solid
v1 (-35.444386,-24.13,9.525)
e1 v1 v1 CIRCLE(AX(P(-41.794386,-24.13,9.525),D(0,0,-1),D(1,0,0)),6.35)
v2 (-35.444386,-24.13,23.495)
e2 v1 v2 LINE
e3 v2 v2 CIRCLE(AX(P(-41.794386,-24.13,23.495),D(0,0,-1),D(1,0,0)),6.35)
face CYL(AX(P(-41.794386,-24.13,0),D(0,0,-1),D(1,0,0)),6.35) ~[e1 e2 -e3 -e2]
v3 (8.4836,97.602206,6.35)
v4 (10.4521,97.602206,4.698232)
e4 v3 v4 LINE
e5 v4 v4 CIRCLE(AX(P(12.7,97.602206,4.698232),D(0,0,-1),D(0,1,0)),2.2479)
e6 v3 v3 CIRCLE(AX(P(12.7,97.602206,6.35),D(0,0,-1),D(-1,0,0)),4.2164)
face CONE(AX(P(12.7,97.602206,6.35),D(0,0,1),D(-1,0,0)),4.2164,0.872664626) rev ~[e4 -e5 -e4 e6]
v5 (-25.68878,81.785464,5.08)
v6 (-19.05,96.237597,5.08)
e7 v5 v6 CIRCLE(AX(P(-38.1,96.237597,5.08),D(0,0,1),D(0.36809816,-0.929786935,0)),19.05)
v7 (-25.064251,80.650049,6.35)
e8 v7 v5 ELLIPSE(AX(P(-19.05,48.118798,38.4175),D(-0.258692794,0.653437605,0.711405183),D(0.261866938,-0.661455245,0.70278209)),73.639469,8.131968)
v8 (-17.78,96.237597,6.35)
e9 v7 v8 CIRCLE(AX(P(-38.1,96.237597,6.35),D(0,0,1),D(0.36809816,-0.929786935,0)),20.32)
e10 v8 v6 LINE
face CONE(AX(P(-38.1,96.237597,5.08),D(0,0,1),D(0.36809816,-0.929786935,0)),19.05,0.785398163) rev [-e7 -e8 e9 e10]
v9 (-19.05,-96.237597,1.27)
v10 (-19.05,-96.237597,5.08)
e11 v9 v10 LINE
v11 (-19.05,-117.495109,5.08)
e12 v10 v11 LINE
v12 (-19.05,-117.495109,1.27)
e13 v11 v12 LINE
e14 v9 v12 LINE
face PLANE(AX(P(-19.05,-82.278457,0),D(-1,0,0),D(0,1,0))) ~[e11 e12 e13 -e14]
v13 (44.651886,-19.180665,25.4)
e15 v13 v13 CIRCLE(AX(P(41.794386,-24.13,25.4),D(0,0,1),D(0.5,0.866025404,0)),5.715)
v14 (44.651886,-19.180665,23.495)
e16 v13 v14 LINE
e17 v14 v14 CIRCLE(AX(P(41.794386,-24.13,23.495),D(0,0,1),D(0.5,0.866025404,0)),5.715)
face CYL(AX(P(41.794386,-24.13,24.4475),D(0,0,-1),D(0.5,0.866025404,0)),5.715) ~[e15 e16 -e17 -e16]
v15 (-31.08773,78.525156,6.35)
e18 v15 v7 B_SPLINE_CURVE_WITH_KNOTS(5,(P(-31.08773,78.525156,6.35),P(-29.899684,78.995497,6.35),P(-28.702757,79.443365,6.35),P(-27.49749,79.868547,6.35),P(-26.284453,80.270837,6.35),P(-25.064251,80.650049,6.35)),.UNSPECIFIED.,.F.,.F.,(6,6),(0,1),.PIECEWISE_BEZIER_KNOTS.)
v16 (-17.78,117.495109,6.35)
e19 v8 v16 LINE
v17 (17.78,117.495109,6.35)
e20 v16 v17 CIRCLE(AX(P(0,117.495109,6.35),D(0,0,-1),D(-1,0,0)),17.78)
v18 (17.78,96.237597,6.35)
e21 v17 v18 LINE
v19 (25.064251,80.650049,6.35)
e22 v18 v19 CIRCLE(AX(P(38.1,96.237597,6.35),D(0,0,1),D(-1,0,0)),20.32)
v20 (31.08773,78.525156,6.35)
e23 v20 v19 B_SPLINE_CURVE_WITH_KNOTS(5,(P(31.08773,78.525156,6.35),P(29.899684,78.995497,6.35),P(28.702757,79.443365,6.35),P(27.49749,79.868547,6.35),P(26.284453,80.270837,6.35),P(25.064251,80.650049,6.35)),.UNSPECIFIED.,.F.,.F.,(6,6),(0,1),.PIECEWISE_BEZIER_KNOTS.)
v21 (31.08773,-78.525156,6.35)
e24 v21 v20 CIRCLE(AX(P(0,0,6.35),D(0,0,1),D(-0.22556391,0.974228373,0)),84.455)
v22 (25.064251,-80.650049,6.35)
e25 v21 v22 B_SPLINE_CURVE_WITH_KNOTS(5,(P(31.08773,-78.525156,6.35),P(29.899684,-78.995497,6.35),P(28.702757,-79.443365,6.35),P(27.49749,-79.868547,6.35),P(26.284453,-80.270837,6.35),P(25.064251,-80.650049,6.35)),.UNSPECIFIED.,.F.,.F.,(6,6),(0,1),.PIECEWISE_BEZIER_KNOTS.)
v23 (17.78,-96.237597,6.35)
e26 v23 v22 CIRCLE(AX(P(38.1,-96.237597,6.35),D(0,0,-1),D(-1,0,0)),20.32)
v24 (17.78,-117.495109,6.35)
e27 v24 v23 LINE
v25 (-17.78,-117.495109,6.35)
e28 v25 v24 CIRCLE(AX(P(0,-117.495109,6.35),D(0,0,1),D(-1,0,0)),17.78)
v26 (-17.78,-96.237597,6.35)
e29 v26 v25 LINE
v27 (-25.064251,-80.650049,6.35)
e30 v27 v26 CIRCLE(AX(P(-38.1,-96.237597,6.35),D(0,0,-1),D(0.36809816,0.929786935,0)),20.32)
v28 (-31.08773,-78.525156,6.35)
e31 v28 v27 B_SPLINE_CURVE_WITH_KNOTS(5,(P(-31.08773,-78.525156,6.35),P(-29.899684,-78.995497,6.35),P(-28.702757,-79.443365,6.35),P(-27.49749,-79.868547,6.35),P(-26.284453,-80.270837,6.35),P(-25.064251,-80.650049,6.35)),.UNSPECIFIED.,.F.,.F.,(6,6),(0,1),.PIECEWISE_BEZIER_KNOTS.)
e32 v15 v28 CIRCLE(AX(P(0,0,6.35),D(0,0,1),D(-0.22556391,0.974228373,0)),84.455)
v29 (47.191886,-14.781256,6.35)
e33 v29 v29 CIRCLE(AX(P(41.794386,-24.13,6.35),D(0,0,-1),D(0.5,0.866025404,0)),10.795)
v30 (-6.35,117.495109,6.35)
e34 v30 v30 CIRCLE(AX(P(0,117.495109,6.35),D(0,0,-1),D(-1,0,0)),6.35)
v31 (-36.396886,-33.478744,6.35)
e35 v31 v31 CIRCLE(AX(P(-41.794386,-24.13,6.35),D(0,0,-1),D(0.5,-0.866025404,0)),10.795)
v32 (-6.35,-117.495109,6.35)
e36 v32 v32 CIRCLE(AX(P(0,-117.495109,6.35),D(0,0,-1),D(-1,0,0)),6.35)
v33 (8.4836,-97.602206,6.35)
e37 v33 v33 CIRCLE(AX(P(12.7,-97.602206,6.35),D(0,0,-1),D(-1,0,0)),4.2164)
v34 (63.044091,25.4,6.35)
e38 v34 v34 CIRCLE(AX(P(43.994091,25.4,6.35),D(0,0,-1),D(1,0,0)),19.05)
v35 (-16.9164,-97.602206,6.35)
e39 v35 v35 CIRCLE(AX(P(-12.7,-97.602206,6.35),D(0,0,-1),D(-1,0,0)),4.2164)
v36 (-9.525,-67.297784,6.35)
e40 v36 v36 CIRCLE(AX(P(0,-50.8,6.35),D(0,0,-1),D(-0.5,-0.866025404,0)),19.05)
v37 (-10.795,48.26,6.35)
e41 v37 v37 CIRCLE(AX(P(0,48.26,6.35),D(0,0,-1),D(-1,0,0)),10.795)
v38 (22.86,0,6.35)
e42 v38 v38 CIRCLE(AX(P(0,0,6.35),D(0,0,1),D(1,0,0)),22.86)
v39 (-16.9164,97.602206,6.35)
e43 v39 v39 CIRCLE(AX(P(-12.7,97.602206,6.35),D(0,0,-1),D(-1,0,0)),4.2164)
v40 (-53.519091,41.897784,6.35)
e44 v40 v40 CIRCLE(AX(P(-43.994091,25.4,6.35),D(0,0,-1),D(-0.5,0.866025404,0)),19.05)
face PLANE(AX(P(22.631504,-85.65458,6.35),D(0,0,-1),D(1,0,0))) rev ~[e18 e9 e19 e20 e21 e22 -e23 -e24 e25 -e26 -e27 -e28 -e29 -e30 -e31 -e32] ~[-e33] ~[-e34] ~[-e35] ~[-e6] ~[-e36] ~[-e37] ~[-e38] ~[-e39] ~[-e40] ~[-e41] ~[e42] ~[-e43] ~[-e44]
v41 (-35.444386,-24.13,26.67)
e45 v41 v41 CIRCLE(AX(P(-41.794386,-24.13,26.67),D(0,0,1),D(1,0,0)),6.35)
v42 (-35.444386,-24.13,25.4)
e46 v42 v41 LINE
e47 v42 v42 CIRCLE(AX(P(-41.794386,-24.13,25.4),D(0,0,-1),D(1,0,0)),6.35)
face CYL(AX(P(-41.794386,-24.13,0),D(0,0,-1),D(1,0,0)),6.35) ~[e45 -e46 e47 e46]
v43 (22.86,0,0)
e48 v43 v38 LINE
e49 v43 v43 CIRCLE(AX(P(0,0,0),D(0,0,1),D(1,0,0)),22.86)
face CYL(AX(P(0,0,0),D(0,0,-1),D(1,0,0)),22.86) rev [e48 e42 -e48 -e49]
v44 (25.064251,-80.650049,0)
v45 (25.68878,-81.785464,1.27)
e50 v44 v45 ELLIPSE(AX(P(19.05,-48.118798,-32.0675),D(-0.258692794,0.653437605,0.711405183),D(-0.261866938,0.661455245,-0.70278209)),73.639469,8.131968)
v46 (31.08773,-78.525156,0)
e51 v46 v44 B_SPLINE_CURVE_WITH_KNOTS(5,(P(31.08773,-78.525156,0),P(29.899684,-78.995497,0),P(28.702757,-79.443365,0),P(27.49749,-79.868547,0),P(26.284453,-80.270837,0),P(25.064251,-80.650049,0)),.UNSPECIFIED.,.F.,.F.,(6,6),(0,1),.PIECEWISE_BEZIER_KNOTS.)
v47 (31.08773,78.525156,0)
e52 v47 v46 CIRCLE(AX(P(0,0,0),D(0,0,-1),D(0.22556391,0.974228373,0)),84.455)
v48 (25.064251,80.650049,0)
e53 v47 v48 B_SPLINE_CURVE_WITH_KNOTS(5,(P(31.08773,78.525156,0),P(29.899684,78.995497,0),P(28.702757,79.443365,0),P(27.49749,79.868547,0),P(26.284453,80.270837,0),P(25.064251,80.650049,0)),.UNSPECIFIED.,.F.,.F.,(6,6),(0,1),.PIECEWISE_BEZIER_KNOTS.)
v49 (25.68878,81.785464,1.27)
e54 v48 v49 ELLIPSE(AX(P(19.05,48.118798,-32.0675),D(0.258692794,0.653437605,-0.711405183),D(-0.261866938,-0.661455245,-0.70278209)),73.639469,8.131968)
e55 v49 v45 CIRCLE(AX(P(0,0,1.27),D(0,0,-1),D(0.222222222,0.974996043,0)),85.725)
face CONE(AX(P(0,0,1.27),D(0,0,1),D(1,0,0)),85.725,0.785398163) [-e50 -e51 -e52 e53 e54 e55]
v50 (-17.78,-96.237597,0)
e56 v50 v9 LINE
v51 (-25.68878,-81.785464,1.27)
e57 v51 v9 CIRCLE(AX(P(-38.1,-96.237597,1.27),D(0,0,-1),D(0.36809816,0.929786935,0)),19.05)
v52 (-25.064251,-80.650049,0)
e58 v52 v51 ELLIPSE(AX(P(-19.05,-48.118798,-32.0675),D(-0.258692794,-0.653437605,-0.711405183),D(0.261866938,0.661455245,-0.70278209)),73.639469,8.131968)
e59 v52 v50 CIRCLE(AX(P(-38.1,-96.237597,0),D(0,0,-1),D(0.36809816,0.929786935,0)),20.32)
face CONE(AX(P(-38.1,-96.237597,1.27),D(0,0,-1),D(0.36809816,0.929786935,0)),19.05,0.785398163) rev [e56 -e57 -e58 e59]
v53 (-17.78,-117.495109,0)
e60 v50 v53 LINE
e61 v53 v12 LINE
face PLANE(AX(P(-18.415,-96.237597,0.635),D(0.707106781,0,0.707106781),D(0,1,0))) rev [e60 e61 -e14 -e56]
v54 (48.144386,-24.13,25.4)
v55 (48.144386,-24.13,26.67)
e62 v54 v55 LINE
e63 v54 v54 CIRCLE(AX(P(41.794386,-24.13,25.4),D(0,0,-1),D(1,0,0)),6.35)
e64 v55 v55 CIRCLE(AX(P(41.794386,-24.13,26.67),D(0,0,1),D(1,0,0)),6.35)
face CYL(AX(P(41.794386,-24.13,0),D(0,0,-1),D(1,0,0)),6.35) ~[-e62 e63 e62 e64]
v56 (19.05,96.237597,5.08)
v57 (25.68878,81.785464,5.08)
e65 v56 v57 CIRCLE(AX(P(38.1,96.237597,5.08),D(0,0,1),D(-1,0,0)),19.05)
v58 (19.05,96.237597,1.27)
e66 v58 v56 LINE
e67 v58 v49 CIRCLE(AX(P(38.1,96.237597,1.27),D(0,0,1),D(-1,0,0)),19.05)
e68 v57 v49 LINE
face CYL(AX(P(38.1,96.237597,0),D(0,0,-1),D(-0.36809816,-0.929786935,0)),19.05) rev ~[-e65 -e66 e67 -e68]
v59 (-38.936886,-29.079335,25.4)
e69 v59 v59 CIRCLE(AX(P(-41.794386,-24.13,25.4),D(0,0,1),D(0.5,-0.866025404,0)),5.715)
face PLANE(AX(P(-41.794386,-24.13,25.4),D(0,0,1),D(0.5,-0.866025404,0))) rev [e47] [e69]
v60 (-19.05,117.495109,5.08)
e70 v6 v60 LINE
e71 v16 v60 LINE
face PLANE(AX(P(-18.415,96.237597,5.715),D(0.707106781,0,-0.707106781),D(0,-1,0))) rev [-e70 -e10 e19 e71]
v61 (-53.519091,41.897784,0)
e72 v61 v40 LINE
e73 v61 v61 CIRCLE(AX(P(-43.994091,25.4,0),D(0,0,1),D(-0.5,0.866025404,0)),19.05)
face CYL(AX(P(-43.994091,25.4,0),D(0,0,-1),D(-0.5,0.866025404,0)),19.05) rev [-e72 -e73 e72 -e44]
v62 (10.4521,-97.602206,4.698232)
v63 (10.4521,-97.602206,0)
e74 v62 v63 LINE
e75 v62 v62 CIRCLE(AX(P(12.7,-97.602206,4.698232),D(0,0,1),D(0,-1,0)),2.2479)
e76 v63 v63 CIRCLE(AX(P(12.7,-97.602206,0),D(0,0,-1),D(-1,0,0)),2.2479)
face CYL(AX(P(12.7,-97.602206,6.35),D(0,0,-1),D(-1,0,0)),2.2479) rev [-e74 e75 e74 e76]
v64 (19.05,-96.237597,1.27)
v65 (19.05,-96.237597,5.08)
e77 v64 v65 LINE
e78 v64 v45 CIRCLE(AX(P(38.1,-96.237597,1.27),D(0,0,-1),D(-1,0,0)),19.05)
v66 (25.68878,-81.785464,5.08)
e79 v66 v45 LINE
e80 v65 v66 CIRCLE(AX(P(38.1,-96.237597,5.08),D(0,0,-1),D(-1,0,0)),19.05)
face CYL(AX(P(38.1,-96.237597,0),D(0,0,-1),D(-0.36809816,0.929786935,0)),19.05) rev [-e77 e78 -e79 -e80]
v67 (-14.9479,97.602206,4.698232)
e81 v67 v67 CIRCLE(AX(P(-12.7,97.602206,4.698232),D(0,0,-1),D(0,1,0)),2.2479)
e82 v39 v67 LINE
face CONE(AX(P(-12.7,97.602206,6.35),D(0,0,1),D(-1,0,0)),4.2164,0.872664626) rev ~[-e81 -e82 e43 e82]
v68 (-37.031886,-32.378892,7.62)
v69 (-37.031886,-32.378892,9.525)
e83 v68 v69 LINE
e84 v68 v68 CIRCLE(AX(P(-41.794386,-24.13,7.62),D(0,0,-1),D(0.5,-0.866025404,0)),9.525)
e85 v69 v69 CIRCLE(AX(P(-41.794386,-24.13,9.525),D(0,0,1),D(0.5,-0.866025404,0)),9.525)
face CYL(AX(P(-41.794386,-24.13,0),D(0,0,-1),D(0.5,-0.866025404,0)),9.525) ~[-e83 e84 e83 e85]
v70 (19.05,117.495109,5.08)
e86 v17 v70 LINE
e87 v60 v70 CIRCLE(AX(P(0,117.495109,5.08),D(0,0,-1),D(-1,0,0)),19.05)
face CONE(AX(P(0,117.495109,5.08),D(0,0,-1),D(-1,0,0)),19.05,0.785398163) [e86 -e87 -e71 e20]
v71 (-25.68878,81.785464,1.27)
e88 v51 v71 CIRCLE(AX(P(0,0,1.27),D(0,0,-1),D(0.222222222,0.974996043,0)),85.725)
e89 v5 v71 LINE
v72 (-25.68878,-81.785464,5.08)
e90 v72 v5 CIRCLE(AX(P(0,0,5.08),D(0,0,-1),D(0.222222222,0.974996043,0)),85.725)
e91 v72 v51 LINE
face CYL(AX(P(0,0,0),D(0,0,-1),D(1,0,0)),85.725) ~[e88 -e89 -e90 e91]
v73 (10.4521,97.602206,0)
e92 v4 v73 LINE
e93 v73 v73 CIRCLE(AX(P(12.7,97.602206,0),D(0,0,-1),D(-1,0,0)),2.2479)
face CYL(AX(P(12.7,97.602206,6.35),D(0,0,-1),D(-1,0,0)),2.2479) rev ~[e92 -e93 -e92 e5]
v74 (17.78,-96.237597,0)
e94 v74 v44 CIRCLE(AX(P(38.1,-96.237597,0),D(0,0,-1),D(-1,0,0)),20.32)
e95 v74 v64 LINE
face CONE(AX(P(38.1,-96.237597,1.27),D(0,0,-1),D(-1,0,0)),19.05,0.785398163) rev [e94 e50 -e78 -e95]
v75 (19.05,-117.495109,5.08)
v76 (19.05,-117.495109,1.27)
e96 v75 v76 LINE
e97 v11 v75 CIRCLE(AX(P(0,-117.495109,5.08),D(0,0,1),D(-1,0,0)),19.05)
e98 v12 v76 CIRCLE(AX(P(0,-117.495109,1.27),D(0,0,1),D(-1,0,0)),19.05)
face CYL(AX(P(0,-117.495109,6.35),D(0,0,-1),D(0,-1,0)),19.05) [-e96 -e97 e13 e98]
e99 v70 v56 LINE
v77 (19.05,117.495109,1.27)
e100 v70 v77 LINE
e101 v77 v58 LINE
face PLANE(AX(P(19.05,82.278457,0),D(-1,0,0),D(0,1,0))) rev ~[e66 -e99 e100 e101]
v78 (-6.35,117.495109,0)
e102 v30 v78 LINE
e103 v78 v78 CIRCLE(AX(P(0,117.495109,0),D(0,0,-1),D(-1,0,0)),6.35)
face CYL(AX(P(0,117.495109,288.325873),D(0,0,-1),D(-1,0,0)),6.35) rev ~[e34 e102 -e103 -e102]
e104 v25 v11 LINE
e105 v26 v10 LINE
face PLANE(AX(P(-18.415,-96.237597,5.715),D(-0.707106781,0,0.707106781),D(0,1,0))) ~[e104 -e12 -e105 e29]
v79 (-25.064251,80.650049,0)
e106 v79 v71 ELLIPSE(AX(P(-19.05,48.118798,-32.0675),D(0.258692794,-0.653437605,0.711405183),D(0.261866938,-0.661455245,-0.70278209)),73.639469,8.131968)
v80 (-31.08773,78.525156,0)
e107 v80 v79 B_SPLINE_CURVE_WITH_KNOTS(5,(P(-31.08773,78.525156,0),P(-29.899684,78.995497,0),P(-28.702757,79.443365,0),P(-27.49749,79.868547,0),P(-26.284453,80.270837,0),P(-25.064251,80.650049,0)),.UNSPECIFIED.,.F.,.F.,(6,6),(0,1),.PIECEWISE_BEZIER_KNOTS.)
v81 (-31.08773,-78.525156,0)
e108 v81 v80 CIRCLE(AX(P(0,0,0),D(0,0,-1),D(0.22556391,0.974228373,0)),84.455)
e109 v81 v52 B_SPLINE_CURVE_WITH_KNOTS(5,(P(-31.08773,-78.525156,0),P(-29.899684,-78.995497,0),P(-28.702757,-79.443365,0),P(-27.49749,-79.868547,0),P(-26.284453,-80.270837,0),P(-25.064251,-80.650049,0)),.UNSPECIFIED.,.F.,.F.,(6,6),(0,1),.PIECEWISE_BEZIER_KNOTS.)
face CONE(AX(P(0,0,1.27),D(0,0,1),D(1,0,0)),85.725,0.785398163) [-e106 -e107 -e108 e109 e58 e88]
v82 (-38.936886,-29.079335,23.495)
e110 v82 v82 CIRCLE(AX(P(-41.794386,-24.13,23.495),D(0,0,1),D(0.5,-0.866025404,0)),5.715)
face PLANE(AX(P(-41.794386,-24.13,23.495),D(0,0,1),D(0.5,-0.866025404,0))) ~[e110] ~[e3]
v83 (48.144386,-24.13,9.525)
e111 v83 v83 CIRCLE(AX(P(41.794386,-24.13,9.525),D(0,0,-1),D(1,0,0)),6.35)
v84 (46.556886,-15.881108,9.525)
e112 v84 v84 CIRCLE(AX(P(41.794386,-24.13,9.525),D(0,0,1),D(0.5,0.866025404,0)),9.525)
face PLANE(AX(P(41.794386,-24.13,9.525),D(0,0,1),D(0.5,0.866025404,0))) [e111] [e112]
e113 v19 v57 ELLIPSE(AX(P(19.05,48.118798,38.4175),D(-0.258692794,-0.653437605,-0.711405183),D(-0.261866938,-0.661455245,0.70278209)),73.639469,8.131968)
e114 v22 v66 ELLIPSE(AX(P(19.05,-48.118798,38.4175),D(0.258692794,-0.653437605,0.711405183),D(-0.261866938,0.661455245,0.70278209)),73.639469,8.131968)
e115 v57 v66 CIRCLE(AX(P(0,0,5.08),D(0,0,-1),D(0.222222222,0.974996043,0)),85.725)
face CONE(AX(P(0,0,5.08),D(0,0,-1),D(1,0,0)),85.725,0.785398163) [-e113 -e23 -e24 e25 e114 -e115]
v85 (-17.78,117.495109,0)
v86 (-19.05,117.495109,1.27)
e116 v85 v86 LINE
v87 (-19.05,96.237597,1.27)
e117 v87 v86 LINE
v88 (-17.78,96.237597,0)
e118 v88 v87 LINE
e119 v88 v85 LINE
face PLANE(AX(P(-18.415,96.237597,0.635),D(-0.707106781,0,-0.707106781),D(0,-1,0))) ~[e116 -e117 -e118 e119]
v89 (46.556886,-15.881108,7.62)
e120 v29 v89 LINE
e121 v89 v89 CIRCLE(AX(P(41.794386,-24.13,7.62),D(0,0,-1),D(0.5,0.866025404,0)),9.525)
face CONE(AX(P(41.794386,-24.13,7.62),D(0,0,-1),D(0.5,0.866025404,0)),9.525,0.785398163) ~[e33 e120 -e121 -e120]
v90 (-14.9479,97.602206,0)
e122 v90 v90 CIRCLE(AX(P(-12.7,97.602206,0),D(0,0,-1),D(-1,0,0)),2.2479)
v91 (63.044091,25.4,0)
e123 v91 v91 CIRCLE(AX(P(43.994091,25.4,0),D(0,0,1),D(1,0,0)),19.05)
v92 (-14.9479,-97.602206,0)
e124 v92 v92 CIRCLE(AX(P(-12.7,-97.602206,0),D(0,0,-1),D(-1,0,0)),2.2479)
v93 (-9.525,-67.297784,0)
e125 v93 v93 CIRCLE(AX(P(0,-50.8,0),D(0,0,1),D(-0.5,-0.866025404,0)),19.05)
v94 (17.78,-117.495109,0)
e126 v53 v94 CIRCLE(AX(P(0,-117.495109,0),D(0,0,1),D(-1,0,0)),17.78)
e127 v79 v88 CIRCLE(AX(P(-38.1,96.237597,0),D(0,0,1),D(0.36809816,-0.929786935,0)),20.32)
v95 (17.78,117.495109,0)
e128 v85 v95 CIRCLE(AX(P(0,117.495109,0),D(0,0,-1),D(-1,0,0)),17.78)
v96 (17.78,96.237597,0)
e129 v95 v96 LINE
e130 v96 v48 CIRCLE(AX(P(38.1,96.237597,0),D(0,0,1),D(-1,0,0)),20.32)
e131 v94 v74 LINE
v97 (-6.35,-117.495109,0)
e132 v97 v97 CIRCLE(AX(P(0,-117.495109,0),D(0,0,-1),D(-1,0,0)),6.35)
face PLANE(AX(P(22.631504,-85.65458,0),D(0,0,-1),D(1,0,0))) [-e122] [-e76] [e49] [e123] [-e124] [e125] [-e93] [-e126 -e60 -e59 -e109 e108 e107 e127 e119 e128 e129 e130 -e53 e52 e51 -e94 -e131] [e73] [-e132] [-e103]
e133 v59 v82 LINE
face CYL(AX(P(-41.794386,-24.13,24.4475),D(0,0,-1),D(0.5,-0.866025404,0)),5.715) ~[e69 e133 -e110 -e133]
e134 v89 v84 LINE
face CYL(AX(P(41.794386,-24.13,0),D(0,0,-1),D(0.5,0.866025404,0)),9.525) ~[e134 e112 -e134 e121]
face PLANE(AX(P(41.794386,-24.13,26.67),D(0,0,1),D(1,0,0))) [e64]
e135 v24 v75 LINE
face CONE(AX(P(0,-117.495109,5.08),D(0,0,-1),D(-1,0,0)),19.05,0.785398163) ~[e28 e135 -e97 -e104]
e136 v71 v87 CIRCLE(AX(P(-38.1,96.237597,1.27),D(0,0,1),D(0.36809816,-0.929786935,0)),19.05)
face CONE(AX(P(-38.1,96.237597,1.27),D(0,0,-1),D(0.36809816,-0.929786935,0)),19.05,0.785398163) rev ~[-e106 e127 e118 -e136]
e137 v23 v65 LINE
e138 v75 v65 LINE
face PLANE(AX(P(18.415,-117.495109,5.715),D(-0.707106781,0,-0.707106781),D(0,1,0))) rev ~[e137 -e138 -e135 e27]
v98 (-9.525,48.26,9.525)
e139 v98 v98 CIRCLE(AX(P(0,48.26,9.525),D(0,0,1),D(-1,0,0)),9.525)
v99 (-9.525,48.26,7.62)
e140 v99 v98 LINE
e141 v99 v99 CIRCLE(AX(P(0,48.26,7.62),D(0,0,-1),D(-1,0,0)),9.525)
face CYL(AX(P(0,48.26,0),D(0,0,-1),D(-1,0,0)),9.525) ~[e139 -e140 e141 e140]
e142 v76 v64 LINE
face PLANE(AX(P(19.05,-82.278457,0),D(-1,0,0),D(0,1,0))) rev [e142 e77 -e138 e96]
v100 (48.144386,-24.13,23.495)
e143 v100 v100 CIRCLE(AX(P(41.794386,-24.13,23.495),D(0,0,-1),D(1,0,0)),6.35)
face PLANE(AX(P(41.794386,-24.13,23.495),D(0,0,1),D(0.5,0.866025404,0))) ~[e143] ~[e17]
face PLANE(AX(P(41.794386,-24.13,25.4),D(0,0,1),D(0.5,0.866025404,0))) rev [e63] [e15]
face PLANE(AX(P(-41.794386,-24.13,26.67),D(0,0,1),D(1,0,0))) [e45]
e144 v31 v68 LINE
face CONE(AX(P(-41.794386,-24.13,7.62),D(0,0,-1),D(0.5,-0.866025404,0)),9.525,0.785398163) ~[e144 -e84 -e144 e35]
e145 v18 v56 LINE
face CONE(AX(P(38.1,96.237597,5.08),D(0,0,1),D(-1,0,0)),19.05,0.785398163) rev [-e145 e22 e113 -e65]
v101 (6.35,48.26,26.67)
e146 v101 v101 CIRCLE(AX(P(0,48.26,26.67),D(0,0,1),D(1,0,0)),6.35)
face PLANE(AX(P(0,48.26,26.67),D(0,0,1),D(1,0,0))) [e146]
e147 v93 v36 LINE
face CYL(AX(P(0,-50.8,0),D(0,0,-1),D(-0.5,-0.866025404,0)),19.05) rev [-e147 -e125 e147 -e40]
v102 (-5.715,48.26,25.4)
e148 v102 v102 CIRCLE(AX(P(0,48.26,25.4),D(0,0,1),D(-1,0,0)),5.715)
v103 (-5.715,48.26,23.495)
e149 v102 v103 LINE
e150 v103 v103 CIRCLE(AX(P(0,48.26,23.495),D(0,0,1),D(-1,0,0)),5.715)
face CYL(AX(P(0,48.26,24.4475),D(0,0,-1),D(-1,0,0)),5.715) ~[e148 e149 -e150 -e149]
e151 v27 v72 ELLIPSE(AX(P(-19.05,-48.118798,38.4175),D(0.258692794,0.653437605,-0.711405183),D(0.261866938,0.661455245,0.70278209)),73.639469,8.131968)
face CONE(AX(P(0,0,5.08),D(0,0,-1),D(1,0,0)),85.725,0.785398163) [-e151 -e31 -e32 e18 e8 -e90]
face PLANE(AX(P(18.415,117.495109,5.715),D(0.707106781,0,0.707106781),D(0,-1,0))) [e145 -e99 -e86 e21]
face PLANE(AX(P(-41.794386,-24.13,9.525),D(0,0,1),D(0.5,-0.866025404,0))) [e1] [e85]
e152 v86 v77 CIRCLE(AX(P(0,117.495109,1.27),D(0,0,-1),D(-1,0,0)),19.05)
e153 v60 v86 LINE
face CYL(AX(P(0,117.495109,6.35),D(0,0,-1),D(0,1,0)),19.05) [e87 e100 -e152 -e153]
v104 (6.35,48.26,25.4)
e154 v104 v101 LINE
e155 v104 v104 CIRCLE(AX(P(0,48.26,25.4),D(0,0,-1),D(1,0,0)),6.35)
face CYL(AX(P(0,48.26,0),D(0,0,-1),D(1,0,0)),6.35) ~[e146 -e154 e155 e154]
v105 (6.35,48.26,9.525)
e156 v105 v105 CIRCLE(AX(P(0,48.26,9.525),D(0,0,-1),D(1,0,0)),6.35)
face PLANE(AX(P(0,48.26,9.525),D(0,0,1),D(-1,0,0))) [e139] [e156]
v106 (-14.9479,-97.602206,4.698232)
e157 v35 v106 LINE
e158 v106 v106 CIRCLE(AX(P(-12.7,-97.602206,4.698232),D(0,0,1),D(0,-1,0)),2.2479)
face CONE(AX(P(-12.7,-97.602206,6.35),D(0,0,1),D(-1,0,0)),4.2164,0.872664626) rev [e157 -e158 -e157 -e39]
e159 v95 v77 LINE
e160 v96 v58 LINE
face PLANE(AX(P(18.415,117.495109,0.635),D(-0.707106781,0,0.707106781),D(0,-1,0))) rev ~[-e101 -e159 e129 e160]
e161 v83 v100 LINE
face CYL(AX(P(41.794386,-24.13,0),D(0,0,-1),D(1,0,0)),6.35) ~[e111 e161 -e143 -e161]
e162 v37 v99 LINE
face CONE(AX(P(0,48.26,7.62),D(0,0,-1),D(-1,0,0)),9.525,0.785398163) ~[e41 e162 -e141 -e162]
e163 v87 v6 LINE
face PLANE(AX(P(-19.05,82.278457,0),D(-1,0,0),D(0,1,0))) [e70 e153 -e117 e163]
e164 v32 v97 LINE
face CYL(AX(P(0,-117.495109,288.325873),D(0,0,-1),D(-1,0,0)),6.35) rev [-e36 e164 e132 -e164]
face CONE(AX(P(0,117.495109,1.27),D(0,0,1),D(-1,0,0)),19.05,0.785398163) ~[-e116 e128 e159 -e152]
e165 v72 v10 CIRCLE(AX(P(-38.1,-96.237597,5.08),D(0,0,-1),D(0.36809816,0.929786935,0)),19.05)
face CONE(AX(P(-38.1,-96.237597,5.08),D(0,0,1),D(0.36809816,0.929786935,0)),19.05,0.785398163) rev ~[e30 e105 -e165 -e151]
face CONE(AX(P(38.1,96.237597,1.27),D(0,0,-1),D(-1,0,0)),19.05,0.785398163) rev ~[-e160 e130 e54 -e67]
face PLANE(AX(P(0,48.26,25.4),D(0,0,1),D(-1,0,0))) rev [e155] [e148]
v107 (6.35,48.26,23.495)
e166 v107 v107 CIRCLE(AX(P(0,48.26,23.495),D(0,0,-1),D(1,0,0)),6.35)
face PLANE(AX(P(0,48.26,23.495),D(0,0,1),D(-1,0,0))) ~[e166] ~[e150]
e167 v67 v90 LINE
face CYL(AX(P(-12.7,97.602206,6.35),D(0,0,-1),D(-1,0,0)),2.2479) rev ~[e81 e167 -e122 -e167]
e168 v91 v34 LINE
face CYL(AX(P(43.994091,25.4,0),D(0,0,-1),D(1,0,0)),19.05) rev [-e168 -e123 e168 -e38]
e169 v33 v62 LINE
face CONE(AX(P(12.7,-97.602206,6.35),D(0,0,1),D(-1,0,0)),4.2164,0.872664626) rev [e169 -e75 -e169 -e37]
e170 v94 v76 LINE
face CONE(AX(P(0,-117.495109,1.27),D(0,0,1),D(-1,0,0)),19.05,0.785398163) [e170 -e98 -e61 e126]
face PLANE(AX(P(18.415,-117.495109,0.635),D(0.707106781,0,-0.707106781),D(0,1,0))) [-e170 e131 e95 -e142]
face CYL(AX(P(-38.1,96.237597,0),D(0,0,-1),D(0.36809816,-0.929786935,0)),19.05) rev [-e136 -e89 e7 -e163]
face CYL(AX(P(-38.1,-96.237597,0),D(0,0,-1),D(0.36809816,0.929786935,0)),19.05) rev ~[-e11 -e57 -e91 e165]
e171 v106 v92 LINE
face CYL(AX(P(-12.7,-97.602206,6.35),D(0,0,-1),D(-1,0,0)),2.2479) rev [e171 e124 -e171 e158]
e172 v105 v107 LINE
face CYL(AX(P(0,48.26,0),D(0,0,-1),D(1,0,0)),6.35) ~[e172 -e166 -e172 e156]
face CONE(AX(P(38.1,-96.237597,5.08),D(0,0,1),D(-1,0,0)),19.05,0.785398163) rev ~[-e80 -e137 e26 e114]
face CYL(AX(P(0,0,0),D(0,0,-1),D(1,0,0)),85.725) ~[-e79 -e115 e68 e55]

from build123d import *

# Parameters (mm, degrees)
SKETCH1_R                                         = 85.725
BOSS_EXTRUDE1_DEPTH                               = 6.35
SKETCH2_R                                         = 6.35
BOSS_EXTRUDE2_DEPTH                               = 26.67
SKETCH6_R                                         = 22.86
CUT_EXTRUDE1_DEPTH                                = 6.35
CUT_EXTRUDE3_REACH                                = 126.132
SKETCH10_R                                        = 19.05
SKETCH11_R                                        = 9.525
BOSS_EXTRUDE3_DEPTH                               = 9.525
SKETCH12_W                                        = 1.905
SKETCH12_H                                        = 1.27
CIRPATTERN6_COUNT                                 = 3
CIRPATTERN7_COUNT                                 = 3
CHAMFER2_SIZE                                     = 1.27
SKETCH13_W                                        = 38.1
SKETCH13_H                                        = 54.266652261
BOSS_EXTRUDE5_DEPTH                               = 6.35
CIRPATTERN8_COUNT                                 = 3
FILLET1_RADIUS                                    = 19.05
FILLET1_LENGTH                                    = 6.35
BOSS_EXTRUDE9_DEPTH                               = 6.35
CSK_FOR_8_FLAT_HEAD_MACHINE_SCREW_100_D           = 4.4958
CSK_FOR_8_FLAT_HEAD_MACHINE_SCREW_100_CSINK_D     = 8.4328
CSK_FOR_8_FLAT_HEAD_MACHINE_SCREW_100_CSINK_ANGLE = 100
F_1_2_0_5_DIAMETER_HOLE2_D                        = 12.7
MIRROR3_COPY_1_DEPTH                              = 6.35
FILLET1_OF_MIRROR3_2_RADIUS                       = 19.05
FILLET1_OF_MIRROR3_2_LENGTH                       = 6.35
CHAMFER3_SIZE                                     = 1.27


with BuildPart() as part:
    # Sketch1 → Boss-Extrude1 (new body)
    with BuildSketch(Plane.XY):
        Circle(SKETCH1_R)
    extrude(amount=BOSS_EXTRUDE1_DEPTH)

    # Sketch2 → Boss-Extrude2 (add)
    with BuildSketch(Plane.XY):
        with Locations((41.794385987, -24.13)):
            Circle(SKETCH2_R)
        with Locations((0, 48.26)):
            Circle(SKETCH2_R)
        with Locations((-41.794385987, -24.13)):
            Circle(SKETCH2_R)
    extrude(amount=BOSS_EXTRUDE2_DEPTH)

    # Sketch6 → Cut-Extrude1 (cut)
    with BuildSketch(Plane.XY):
        Circle(SKETCH6_R)
    extrude(amount=CUT_EXTRUDE1_DEPTH, mode=Mode.SUBTRACT)

    # Sketch10 → Cut-Extrude3 (cut, up to next)
    with BuildSketch(Plane.XY, mode=Mode.PRIVATE) as cut_extrude3_sk1:
        with Locations((43.994090512, 25.4)):
            Circle(SKETCH10_R)
    cut_extrude3_tool1 = extrude(cut_extrude3_sk1.sketch, amount=CUT_EXTRUDE3_REACH, mode=Mode.PRIVATE) & part.part
    cut_extrude3 = cut_extrude3_tool1.solids().sort_by_distance((43.994091, 25.4, 0))[0]
    add(cut_extrude3, mode=Mode.SUBTRACT)

    # Sketch11 → Boss-Extrude3 (add)
    with BuildSketch(Plane.XY):
        with Locations(Location((0, 48.26, 0), (0, 0, 180))):
            Circle(SKETCH11_R)
    boss_extrude3 = extrude(amount=BOSS_EXTRUDE3_DEPTH)

    # Sketch12 → Cut-Revolve1 (revolve, cut)
    with BuildSketch(Plane(origin=(0, 0, 0), x_dir=(0, 0, -1), z_dir=(1, 0, 0)), mode=Mode.PRIVATE) as cut_revolve1_sk:
        with Locations((-24.4475, 54.61)):
            Rectangle(SKETCH12_W, SKETCH12_H)
    cut_revolve1 = revolve(cut_revolve1_sk.sketch.rotate(Axis((0, 48.26, 26.67), (0, 0, 1)), 90), axis=Axis((0, 48.26, 26.67), (0, 0, 1)), mode=Mode.SUBTRACT)

    # CirPattern6: Boss-Extrude3 ×3 about axis
    cirpattern6_axis = Axis((0, 0, 0), (0, 0, 1))
    for i in range(1, CIRPATTERN6_COUNT):
        add(boss_extrude3.rotate(cirpattern6_axis, i * 360 / CIRPATTERN6_COUNT))

    # CirPattern7: Cut-Revolve1 ×3 about axis
    cirpattern7_axis = Axis((0, 0, 0), (0, 0, 1))
    for i in range(1, CIRPATTERN7_COUNT):
        add(cut_revolve1.rotate(cirpattern7_axis, i * 360 / CIRPATTERN7_COUNT), mode=Mode.SUBTRACT)

    # Chamfer2
    chamfer2_edges = [part.edges().sort_by_distance(p)[0] for p in [
        (-85.725, 0, 0),
        (9.525, 48.26, 6.35),
        (-46.556885987, -15.881108029, 6.35),
        (-85.725, 0, 6.35),
        (37.031885987, -32.378891971, 6.35),
    ]]
    chamfer(chamfer2_edges, length=CHAMFER2_SIZE)

    # Sketch13 → Boss-Extrude5 (add)
    with BuildSketch(Plane.XY):
        with Locations((0, 109.411783366)):
            Rectangle(SKETCH13_W, SKETCH13_H)
    boss_extrude5 = extrude(amount=BOSS_EXTRUDE5_DEPTH)

    # CirPattern8: Cut-Extrude3 ×3 about axis
    cirpattern8_axis = Axis((0, 0, 0), (0, 0, 1))
    for i in range(1, CIRPATTERN8_COUNT):
        add(cut_extrude3.rotate(cirpattern8_axis, i * 360 / CIRPATTERN8_COUNT), mode=Mode.SUBTRACT)

    # Fillet1: full round fillet: the end face becomes a half cylinder, R = half its width
    fillet1_face = Plane((0, 136.545109496, 3.175), x_dir=(0, 0, -1), z_dir=(0, 1, 0))  # on the end face: x along it, z out of the body
    fillet1_slab = fillet1_face.offset(-FILLET1_RADIUS / 2) * Box(FILLET1_LENGTH, 2 * FILLET1_RADIUS, FILLET1_RADIUS, mode=Mode.PRIVATE)  # the body's end, R deep
    fillet1_round = Plane((0, 117.495109496, 3.175), x_dir=(0, 1, 0), z_dir=(0, 0, -1)) * Cylinder(FILLET1_RADIUS, FILLET1_LENGTH, mode=Mode.PRIVATE)  # its axis R under the face
    add(fillet1_slab - fillet1_round, mode=Mode.SUBTRACT)

    # Sketch25 → Boss-Extrude9 (add)
    with BuildSketch(Plane.XY):
        with BuildLine():
            Line((-19.05, 96.237596733), (-19.05, 82.278457235))
            ThreePointArc((-19.05, 82.278457235), (-25.139009769, 80.626777269), (-31.087730061, 78.525155617))
            ThreePointArc((-31.087730061, 78.525155617), (-22.344267038, 85.52968476), (-19.05, 96.237596733))
        make_face()
    boss_extrude9 = extrude(amount=BOSS_EXTRUDE9_DEPTH)

    # Mirror1: Boss-Extrude9 across plane
    add(boss_extrude9.mirror(Plane(origin=(0, 0, 0), x_dir=(0, 0, 1), z_dir=(1, 0, 0))))

    # CSK for #8 Flat Head Machine Screw (100)2 (through all)
    with Locations(Plane.XY.offset(6.35)):
        with Locations((-12.7, 97.602206046), (12.7, 97.602206046)):
            csk_for_8_flat_head_machine_screw_100 = CounterSinkHole(CSK_FOR_8_FLAT_HEAD_MACHINE_SCREW_100_D / 2, CSK_FOR_8_FLAT_HEAD_MACHINE_SCREW_100_CSINK_D / 2, counter_sink_angle=CSK_FOR_8_FLAT_HEAD_MACHINE_SCREW_100_CSINK_ANGLE)

    # 1/2 (0.5) Diameter Hole2 (through all)
    with Locations(Plane.XY.offset(6.35)):
        with Locations((0, 117.495109496)):
            f_1_2_0_5_diameter_hole2 = Hole(F_1_2_0_5_DIAMETER_HOLE2_D / 2)

    # Mirror3: Boss-Extrude5, Boss-Extrude9, CSK for #8 Flat Head Machine Screw (100)2, 1/2 (0.5) Diameter Hole2 across plane
    add(boss_extrude5.mirror(Plane.ZX))
    add(boss_extrude9.mirror(Plane.ZX))
    add(csk_for_8_flat_head_machine_screw_100.mirror(Plane.ZX), mode=Mode.SUBTRACT)
    add(f_1_2_0_5_diameter_hole2.mirror(Plane.ZX), mode=Mode.SUBTRACT)

    # Mirror3 copy 1 sketch → Mirror3 copy 1 (add)
    with BuildSketch(Plane(origin=(0, 0, 0), x_dir=(-1, 0, 0), z_dir=(0, 0, 1))):
        with BuildLine():
            Line((-19.05, 96.237596733), (-19.05, 82.278457235))
            ThreePointArc((-19.05, 82.278457235), (-25.139009769, 80.626777269), (-31.087730061, 78.525155617))
            ThreePointArc((-31.087730061, 78.525155617), (-22.344267038, 85.52968476), (-19.05, 96.237596733))
        make_face()
    extrude(amount=MIRROR3_COPY_1_DEPTH)

    # Fillet1 of Mirror3 2: full round fillet: the end face becomes a half cylinder, R = half its width
    fillet1_of_mirror3_2_face = Plane((0, -136.545109496, 3.175), x_dir=(0, 0, -1), z_dir=(0, -1, 0))  # on the end face: x along it, z out of the body
    fillet1_of_mirror3_2_slab = fillet1_of_mirror3_2_face.offset(-FILLET1_OF_MIRROR3_2_RADIUS / 2) * Box(FILLET1_OF_MIRROR3_2_LENGTH, 2 * FILLET1_OF_MIRROR3_2_RADIUS, FILLET1_OF_MIRROR3_2_RADIUS, mode=Mode.PRIVATE)  # the body's end, R deep
    fillet1_of_mirror3_2_round = Plane((0, -117.495109496, 3.175), x_dir=(0, -1, 0), z_dir=(0, 0, -1)) * Cylinder(FILLET1_OF_MIRROR3_2_RADIUS, FILLET1_OF_MIRROR3_2_LENGTH, mode=Mode.PRIVATE)  # its axis R under the face
    add(fillet1_of_mirror3_2_slab - fillet1_of_mirror3_2_round, mode=Mode.SUBTRACT)

    # Chamfer3
    chamfer3_edges = [part.edges().sort_by_distance(p)[0] for p in [
        (-19.05, 106.866353115, 6.35),
        (-19.05, 106.866353115, 0),
        (0, 136.545109496, 6.35),
        (0, 136.545109496, 0),
        (-22.344267038, 85.52968476, 0),
        (-22.344267038, 85.52968476, 6.35),
        (19.05, 106.866353115, 0),
        (19.05, 106.866353115, 6.35),
        (22.344267038, 85.52968476, 6.35),
        (22.344267038, 85.52968476, 0),
        (-19.05, -106.866353115, 6.35),
        (-19.05, -106.866353115, 0),
        (0, -136.545109496, 0),
        (0, -136.545109496, 6.35),
        (-22.344267038, -85.52968476, 6.35),
        (-22.344267038, -85.52968476, 0),
        (19.05, -106.866353115, 6.35),
        (19.05, -106.866353115, 0),
        (22.344267038, -85.52968476, 0),
        (22.344267038, -85.52968476, 6.35),
    ]]
    chamfer(chamfer3_edges, length=CHAMFER3_SIZE)


solid = part.part
